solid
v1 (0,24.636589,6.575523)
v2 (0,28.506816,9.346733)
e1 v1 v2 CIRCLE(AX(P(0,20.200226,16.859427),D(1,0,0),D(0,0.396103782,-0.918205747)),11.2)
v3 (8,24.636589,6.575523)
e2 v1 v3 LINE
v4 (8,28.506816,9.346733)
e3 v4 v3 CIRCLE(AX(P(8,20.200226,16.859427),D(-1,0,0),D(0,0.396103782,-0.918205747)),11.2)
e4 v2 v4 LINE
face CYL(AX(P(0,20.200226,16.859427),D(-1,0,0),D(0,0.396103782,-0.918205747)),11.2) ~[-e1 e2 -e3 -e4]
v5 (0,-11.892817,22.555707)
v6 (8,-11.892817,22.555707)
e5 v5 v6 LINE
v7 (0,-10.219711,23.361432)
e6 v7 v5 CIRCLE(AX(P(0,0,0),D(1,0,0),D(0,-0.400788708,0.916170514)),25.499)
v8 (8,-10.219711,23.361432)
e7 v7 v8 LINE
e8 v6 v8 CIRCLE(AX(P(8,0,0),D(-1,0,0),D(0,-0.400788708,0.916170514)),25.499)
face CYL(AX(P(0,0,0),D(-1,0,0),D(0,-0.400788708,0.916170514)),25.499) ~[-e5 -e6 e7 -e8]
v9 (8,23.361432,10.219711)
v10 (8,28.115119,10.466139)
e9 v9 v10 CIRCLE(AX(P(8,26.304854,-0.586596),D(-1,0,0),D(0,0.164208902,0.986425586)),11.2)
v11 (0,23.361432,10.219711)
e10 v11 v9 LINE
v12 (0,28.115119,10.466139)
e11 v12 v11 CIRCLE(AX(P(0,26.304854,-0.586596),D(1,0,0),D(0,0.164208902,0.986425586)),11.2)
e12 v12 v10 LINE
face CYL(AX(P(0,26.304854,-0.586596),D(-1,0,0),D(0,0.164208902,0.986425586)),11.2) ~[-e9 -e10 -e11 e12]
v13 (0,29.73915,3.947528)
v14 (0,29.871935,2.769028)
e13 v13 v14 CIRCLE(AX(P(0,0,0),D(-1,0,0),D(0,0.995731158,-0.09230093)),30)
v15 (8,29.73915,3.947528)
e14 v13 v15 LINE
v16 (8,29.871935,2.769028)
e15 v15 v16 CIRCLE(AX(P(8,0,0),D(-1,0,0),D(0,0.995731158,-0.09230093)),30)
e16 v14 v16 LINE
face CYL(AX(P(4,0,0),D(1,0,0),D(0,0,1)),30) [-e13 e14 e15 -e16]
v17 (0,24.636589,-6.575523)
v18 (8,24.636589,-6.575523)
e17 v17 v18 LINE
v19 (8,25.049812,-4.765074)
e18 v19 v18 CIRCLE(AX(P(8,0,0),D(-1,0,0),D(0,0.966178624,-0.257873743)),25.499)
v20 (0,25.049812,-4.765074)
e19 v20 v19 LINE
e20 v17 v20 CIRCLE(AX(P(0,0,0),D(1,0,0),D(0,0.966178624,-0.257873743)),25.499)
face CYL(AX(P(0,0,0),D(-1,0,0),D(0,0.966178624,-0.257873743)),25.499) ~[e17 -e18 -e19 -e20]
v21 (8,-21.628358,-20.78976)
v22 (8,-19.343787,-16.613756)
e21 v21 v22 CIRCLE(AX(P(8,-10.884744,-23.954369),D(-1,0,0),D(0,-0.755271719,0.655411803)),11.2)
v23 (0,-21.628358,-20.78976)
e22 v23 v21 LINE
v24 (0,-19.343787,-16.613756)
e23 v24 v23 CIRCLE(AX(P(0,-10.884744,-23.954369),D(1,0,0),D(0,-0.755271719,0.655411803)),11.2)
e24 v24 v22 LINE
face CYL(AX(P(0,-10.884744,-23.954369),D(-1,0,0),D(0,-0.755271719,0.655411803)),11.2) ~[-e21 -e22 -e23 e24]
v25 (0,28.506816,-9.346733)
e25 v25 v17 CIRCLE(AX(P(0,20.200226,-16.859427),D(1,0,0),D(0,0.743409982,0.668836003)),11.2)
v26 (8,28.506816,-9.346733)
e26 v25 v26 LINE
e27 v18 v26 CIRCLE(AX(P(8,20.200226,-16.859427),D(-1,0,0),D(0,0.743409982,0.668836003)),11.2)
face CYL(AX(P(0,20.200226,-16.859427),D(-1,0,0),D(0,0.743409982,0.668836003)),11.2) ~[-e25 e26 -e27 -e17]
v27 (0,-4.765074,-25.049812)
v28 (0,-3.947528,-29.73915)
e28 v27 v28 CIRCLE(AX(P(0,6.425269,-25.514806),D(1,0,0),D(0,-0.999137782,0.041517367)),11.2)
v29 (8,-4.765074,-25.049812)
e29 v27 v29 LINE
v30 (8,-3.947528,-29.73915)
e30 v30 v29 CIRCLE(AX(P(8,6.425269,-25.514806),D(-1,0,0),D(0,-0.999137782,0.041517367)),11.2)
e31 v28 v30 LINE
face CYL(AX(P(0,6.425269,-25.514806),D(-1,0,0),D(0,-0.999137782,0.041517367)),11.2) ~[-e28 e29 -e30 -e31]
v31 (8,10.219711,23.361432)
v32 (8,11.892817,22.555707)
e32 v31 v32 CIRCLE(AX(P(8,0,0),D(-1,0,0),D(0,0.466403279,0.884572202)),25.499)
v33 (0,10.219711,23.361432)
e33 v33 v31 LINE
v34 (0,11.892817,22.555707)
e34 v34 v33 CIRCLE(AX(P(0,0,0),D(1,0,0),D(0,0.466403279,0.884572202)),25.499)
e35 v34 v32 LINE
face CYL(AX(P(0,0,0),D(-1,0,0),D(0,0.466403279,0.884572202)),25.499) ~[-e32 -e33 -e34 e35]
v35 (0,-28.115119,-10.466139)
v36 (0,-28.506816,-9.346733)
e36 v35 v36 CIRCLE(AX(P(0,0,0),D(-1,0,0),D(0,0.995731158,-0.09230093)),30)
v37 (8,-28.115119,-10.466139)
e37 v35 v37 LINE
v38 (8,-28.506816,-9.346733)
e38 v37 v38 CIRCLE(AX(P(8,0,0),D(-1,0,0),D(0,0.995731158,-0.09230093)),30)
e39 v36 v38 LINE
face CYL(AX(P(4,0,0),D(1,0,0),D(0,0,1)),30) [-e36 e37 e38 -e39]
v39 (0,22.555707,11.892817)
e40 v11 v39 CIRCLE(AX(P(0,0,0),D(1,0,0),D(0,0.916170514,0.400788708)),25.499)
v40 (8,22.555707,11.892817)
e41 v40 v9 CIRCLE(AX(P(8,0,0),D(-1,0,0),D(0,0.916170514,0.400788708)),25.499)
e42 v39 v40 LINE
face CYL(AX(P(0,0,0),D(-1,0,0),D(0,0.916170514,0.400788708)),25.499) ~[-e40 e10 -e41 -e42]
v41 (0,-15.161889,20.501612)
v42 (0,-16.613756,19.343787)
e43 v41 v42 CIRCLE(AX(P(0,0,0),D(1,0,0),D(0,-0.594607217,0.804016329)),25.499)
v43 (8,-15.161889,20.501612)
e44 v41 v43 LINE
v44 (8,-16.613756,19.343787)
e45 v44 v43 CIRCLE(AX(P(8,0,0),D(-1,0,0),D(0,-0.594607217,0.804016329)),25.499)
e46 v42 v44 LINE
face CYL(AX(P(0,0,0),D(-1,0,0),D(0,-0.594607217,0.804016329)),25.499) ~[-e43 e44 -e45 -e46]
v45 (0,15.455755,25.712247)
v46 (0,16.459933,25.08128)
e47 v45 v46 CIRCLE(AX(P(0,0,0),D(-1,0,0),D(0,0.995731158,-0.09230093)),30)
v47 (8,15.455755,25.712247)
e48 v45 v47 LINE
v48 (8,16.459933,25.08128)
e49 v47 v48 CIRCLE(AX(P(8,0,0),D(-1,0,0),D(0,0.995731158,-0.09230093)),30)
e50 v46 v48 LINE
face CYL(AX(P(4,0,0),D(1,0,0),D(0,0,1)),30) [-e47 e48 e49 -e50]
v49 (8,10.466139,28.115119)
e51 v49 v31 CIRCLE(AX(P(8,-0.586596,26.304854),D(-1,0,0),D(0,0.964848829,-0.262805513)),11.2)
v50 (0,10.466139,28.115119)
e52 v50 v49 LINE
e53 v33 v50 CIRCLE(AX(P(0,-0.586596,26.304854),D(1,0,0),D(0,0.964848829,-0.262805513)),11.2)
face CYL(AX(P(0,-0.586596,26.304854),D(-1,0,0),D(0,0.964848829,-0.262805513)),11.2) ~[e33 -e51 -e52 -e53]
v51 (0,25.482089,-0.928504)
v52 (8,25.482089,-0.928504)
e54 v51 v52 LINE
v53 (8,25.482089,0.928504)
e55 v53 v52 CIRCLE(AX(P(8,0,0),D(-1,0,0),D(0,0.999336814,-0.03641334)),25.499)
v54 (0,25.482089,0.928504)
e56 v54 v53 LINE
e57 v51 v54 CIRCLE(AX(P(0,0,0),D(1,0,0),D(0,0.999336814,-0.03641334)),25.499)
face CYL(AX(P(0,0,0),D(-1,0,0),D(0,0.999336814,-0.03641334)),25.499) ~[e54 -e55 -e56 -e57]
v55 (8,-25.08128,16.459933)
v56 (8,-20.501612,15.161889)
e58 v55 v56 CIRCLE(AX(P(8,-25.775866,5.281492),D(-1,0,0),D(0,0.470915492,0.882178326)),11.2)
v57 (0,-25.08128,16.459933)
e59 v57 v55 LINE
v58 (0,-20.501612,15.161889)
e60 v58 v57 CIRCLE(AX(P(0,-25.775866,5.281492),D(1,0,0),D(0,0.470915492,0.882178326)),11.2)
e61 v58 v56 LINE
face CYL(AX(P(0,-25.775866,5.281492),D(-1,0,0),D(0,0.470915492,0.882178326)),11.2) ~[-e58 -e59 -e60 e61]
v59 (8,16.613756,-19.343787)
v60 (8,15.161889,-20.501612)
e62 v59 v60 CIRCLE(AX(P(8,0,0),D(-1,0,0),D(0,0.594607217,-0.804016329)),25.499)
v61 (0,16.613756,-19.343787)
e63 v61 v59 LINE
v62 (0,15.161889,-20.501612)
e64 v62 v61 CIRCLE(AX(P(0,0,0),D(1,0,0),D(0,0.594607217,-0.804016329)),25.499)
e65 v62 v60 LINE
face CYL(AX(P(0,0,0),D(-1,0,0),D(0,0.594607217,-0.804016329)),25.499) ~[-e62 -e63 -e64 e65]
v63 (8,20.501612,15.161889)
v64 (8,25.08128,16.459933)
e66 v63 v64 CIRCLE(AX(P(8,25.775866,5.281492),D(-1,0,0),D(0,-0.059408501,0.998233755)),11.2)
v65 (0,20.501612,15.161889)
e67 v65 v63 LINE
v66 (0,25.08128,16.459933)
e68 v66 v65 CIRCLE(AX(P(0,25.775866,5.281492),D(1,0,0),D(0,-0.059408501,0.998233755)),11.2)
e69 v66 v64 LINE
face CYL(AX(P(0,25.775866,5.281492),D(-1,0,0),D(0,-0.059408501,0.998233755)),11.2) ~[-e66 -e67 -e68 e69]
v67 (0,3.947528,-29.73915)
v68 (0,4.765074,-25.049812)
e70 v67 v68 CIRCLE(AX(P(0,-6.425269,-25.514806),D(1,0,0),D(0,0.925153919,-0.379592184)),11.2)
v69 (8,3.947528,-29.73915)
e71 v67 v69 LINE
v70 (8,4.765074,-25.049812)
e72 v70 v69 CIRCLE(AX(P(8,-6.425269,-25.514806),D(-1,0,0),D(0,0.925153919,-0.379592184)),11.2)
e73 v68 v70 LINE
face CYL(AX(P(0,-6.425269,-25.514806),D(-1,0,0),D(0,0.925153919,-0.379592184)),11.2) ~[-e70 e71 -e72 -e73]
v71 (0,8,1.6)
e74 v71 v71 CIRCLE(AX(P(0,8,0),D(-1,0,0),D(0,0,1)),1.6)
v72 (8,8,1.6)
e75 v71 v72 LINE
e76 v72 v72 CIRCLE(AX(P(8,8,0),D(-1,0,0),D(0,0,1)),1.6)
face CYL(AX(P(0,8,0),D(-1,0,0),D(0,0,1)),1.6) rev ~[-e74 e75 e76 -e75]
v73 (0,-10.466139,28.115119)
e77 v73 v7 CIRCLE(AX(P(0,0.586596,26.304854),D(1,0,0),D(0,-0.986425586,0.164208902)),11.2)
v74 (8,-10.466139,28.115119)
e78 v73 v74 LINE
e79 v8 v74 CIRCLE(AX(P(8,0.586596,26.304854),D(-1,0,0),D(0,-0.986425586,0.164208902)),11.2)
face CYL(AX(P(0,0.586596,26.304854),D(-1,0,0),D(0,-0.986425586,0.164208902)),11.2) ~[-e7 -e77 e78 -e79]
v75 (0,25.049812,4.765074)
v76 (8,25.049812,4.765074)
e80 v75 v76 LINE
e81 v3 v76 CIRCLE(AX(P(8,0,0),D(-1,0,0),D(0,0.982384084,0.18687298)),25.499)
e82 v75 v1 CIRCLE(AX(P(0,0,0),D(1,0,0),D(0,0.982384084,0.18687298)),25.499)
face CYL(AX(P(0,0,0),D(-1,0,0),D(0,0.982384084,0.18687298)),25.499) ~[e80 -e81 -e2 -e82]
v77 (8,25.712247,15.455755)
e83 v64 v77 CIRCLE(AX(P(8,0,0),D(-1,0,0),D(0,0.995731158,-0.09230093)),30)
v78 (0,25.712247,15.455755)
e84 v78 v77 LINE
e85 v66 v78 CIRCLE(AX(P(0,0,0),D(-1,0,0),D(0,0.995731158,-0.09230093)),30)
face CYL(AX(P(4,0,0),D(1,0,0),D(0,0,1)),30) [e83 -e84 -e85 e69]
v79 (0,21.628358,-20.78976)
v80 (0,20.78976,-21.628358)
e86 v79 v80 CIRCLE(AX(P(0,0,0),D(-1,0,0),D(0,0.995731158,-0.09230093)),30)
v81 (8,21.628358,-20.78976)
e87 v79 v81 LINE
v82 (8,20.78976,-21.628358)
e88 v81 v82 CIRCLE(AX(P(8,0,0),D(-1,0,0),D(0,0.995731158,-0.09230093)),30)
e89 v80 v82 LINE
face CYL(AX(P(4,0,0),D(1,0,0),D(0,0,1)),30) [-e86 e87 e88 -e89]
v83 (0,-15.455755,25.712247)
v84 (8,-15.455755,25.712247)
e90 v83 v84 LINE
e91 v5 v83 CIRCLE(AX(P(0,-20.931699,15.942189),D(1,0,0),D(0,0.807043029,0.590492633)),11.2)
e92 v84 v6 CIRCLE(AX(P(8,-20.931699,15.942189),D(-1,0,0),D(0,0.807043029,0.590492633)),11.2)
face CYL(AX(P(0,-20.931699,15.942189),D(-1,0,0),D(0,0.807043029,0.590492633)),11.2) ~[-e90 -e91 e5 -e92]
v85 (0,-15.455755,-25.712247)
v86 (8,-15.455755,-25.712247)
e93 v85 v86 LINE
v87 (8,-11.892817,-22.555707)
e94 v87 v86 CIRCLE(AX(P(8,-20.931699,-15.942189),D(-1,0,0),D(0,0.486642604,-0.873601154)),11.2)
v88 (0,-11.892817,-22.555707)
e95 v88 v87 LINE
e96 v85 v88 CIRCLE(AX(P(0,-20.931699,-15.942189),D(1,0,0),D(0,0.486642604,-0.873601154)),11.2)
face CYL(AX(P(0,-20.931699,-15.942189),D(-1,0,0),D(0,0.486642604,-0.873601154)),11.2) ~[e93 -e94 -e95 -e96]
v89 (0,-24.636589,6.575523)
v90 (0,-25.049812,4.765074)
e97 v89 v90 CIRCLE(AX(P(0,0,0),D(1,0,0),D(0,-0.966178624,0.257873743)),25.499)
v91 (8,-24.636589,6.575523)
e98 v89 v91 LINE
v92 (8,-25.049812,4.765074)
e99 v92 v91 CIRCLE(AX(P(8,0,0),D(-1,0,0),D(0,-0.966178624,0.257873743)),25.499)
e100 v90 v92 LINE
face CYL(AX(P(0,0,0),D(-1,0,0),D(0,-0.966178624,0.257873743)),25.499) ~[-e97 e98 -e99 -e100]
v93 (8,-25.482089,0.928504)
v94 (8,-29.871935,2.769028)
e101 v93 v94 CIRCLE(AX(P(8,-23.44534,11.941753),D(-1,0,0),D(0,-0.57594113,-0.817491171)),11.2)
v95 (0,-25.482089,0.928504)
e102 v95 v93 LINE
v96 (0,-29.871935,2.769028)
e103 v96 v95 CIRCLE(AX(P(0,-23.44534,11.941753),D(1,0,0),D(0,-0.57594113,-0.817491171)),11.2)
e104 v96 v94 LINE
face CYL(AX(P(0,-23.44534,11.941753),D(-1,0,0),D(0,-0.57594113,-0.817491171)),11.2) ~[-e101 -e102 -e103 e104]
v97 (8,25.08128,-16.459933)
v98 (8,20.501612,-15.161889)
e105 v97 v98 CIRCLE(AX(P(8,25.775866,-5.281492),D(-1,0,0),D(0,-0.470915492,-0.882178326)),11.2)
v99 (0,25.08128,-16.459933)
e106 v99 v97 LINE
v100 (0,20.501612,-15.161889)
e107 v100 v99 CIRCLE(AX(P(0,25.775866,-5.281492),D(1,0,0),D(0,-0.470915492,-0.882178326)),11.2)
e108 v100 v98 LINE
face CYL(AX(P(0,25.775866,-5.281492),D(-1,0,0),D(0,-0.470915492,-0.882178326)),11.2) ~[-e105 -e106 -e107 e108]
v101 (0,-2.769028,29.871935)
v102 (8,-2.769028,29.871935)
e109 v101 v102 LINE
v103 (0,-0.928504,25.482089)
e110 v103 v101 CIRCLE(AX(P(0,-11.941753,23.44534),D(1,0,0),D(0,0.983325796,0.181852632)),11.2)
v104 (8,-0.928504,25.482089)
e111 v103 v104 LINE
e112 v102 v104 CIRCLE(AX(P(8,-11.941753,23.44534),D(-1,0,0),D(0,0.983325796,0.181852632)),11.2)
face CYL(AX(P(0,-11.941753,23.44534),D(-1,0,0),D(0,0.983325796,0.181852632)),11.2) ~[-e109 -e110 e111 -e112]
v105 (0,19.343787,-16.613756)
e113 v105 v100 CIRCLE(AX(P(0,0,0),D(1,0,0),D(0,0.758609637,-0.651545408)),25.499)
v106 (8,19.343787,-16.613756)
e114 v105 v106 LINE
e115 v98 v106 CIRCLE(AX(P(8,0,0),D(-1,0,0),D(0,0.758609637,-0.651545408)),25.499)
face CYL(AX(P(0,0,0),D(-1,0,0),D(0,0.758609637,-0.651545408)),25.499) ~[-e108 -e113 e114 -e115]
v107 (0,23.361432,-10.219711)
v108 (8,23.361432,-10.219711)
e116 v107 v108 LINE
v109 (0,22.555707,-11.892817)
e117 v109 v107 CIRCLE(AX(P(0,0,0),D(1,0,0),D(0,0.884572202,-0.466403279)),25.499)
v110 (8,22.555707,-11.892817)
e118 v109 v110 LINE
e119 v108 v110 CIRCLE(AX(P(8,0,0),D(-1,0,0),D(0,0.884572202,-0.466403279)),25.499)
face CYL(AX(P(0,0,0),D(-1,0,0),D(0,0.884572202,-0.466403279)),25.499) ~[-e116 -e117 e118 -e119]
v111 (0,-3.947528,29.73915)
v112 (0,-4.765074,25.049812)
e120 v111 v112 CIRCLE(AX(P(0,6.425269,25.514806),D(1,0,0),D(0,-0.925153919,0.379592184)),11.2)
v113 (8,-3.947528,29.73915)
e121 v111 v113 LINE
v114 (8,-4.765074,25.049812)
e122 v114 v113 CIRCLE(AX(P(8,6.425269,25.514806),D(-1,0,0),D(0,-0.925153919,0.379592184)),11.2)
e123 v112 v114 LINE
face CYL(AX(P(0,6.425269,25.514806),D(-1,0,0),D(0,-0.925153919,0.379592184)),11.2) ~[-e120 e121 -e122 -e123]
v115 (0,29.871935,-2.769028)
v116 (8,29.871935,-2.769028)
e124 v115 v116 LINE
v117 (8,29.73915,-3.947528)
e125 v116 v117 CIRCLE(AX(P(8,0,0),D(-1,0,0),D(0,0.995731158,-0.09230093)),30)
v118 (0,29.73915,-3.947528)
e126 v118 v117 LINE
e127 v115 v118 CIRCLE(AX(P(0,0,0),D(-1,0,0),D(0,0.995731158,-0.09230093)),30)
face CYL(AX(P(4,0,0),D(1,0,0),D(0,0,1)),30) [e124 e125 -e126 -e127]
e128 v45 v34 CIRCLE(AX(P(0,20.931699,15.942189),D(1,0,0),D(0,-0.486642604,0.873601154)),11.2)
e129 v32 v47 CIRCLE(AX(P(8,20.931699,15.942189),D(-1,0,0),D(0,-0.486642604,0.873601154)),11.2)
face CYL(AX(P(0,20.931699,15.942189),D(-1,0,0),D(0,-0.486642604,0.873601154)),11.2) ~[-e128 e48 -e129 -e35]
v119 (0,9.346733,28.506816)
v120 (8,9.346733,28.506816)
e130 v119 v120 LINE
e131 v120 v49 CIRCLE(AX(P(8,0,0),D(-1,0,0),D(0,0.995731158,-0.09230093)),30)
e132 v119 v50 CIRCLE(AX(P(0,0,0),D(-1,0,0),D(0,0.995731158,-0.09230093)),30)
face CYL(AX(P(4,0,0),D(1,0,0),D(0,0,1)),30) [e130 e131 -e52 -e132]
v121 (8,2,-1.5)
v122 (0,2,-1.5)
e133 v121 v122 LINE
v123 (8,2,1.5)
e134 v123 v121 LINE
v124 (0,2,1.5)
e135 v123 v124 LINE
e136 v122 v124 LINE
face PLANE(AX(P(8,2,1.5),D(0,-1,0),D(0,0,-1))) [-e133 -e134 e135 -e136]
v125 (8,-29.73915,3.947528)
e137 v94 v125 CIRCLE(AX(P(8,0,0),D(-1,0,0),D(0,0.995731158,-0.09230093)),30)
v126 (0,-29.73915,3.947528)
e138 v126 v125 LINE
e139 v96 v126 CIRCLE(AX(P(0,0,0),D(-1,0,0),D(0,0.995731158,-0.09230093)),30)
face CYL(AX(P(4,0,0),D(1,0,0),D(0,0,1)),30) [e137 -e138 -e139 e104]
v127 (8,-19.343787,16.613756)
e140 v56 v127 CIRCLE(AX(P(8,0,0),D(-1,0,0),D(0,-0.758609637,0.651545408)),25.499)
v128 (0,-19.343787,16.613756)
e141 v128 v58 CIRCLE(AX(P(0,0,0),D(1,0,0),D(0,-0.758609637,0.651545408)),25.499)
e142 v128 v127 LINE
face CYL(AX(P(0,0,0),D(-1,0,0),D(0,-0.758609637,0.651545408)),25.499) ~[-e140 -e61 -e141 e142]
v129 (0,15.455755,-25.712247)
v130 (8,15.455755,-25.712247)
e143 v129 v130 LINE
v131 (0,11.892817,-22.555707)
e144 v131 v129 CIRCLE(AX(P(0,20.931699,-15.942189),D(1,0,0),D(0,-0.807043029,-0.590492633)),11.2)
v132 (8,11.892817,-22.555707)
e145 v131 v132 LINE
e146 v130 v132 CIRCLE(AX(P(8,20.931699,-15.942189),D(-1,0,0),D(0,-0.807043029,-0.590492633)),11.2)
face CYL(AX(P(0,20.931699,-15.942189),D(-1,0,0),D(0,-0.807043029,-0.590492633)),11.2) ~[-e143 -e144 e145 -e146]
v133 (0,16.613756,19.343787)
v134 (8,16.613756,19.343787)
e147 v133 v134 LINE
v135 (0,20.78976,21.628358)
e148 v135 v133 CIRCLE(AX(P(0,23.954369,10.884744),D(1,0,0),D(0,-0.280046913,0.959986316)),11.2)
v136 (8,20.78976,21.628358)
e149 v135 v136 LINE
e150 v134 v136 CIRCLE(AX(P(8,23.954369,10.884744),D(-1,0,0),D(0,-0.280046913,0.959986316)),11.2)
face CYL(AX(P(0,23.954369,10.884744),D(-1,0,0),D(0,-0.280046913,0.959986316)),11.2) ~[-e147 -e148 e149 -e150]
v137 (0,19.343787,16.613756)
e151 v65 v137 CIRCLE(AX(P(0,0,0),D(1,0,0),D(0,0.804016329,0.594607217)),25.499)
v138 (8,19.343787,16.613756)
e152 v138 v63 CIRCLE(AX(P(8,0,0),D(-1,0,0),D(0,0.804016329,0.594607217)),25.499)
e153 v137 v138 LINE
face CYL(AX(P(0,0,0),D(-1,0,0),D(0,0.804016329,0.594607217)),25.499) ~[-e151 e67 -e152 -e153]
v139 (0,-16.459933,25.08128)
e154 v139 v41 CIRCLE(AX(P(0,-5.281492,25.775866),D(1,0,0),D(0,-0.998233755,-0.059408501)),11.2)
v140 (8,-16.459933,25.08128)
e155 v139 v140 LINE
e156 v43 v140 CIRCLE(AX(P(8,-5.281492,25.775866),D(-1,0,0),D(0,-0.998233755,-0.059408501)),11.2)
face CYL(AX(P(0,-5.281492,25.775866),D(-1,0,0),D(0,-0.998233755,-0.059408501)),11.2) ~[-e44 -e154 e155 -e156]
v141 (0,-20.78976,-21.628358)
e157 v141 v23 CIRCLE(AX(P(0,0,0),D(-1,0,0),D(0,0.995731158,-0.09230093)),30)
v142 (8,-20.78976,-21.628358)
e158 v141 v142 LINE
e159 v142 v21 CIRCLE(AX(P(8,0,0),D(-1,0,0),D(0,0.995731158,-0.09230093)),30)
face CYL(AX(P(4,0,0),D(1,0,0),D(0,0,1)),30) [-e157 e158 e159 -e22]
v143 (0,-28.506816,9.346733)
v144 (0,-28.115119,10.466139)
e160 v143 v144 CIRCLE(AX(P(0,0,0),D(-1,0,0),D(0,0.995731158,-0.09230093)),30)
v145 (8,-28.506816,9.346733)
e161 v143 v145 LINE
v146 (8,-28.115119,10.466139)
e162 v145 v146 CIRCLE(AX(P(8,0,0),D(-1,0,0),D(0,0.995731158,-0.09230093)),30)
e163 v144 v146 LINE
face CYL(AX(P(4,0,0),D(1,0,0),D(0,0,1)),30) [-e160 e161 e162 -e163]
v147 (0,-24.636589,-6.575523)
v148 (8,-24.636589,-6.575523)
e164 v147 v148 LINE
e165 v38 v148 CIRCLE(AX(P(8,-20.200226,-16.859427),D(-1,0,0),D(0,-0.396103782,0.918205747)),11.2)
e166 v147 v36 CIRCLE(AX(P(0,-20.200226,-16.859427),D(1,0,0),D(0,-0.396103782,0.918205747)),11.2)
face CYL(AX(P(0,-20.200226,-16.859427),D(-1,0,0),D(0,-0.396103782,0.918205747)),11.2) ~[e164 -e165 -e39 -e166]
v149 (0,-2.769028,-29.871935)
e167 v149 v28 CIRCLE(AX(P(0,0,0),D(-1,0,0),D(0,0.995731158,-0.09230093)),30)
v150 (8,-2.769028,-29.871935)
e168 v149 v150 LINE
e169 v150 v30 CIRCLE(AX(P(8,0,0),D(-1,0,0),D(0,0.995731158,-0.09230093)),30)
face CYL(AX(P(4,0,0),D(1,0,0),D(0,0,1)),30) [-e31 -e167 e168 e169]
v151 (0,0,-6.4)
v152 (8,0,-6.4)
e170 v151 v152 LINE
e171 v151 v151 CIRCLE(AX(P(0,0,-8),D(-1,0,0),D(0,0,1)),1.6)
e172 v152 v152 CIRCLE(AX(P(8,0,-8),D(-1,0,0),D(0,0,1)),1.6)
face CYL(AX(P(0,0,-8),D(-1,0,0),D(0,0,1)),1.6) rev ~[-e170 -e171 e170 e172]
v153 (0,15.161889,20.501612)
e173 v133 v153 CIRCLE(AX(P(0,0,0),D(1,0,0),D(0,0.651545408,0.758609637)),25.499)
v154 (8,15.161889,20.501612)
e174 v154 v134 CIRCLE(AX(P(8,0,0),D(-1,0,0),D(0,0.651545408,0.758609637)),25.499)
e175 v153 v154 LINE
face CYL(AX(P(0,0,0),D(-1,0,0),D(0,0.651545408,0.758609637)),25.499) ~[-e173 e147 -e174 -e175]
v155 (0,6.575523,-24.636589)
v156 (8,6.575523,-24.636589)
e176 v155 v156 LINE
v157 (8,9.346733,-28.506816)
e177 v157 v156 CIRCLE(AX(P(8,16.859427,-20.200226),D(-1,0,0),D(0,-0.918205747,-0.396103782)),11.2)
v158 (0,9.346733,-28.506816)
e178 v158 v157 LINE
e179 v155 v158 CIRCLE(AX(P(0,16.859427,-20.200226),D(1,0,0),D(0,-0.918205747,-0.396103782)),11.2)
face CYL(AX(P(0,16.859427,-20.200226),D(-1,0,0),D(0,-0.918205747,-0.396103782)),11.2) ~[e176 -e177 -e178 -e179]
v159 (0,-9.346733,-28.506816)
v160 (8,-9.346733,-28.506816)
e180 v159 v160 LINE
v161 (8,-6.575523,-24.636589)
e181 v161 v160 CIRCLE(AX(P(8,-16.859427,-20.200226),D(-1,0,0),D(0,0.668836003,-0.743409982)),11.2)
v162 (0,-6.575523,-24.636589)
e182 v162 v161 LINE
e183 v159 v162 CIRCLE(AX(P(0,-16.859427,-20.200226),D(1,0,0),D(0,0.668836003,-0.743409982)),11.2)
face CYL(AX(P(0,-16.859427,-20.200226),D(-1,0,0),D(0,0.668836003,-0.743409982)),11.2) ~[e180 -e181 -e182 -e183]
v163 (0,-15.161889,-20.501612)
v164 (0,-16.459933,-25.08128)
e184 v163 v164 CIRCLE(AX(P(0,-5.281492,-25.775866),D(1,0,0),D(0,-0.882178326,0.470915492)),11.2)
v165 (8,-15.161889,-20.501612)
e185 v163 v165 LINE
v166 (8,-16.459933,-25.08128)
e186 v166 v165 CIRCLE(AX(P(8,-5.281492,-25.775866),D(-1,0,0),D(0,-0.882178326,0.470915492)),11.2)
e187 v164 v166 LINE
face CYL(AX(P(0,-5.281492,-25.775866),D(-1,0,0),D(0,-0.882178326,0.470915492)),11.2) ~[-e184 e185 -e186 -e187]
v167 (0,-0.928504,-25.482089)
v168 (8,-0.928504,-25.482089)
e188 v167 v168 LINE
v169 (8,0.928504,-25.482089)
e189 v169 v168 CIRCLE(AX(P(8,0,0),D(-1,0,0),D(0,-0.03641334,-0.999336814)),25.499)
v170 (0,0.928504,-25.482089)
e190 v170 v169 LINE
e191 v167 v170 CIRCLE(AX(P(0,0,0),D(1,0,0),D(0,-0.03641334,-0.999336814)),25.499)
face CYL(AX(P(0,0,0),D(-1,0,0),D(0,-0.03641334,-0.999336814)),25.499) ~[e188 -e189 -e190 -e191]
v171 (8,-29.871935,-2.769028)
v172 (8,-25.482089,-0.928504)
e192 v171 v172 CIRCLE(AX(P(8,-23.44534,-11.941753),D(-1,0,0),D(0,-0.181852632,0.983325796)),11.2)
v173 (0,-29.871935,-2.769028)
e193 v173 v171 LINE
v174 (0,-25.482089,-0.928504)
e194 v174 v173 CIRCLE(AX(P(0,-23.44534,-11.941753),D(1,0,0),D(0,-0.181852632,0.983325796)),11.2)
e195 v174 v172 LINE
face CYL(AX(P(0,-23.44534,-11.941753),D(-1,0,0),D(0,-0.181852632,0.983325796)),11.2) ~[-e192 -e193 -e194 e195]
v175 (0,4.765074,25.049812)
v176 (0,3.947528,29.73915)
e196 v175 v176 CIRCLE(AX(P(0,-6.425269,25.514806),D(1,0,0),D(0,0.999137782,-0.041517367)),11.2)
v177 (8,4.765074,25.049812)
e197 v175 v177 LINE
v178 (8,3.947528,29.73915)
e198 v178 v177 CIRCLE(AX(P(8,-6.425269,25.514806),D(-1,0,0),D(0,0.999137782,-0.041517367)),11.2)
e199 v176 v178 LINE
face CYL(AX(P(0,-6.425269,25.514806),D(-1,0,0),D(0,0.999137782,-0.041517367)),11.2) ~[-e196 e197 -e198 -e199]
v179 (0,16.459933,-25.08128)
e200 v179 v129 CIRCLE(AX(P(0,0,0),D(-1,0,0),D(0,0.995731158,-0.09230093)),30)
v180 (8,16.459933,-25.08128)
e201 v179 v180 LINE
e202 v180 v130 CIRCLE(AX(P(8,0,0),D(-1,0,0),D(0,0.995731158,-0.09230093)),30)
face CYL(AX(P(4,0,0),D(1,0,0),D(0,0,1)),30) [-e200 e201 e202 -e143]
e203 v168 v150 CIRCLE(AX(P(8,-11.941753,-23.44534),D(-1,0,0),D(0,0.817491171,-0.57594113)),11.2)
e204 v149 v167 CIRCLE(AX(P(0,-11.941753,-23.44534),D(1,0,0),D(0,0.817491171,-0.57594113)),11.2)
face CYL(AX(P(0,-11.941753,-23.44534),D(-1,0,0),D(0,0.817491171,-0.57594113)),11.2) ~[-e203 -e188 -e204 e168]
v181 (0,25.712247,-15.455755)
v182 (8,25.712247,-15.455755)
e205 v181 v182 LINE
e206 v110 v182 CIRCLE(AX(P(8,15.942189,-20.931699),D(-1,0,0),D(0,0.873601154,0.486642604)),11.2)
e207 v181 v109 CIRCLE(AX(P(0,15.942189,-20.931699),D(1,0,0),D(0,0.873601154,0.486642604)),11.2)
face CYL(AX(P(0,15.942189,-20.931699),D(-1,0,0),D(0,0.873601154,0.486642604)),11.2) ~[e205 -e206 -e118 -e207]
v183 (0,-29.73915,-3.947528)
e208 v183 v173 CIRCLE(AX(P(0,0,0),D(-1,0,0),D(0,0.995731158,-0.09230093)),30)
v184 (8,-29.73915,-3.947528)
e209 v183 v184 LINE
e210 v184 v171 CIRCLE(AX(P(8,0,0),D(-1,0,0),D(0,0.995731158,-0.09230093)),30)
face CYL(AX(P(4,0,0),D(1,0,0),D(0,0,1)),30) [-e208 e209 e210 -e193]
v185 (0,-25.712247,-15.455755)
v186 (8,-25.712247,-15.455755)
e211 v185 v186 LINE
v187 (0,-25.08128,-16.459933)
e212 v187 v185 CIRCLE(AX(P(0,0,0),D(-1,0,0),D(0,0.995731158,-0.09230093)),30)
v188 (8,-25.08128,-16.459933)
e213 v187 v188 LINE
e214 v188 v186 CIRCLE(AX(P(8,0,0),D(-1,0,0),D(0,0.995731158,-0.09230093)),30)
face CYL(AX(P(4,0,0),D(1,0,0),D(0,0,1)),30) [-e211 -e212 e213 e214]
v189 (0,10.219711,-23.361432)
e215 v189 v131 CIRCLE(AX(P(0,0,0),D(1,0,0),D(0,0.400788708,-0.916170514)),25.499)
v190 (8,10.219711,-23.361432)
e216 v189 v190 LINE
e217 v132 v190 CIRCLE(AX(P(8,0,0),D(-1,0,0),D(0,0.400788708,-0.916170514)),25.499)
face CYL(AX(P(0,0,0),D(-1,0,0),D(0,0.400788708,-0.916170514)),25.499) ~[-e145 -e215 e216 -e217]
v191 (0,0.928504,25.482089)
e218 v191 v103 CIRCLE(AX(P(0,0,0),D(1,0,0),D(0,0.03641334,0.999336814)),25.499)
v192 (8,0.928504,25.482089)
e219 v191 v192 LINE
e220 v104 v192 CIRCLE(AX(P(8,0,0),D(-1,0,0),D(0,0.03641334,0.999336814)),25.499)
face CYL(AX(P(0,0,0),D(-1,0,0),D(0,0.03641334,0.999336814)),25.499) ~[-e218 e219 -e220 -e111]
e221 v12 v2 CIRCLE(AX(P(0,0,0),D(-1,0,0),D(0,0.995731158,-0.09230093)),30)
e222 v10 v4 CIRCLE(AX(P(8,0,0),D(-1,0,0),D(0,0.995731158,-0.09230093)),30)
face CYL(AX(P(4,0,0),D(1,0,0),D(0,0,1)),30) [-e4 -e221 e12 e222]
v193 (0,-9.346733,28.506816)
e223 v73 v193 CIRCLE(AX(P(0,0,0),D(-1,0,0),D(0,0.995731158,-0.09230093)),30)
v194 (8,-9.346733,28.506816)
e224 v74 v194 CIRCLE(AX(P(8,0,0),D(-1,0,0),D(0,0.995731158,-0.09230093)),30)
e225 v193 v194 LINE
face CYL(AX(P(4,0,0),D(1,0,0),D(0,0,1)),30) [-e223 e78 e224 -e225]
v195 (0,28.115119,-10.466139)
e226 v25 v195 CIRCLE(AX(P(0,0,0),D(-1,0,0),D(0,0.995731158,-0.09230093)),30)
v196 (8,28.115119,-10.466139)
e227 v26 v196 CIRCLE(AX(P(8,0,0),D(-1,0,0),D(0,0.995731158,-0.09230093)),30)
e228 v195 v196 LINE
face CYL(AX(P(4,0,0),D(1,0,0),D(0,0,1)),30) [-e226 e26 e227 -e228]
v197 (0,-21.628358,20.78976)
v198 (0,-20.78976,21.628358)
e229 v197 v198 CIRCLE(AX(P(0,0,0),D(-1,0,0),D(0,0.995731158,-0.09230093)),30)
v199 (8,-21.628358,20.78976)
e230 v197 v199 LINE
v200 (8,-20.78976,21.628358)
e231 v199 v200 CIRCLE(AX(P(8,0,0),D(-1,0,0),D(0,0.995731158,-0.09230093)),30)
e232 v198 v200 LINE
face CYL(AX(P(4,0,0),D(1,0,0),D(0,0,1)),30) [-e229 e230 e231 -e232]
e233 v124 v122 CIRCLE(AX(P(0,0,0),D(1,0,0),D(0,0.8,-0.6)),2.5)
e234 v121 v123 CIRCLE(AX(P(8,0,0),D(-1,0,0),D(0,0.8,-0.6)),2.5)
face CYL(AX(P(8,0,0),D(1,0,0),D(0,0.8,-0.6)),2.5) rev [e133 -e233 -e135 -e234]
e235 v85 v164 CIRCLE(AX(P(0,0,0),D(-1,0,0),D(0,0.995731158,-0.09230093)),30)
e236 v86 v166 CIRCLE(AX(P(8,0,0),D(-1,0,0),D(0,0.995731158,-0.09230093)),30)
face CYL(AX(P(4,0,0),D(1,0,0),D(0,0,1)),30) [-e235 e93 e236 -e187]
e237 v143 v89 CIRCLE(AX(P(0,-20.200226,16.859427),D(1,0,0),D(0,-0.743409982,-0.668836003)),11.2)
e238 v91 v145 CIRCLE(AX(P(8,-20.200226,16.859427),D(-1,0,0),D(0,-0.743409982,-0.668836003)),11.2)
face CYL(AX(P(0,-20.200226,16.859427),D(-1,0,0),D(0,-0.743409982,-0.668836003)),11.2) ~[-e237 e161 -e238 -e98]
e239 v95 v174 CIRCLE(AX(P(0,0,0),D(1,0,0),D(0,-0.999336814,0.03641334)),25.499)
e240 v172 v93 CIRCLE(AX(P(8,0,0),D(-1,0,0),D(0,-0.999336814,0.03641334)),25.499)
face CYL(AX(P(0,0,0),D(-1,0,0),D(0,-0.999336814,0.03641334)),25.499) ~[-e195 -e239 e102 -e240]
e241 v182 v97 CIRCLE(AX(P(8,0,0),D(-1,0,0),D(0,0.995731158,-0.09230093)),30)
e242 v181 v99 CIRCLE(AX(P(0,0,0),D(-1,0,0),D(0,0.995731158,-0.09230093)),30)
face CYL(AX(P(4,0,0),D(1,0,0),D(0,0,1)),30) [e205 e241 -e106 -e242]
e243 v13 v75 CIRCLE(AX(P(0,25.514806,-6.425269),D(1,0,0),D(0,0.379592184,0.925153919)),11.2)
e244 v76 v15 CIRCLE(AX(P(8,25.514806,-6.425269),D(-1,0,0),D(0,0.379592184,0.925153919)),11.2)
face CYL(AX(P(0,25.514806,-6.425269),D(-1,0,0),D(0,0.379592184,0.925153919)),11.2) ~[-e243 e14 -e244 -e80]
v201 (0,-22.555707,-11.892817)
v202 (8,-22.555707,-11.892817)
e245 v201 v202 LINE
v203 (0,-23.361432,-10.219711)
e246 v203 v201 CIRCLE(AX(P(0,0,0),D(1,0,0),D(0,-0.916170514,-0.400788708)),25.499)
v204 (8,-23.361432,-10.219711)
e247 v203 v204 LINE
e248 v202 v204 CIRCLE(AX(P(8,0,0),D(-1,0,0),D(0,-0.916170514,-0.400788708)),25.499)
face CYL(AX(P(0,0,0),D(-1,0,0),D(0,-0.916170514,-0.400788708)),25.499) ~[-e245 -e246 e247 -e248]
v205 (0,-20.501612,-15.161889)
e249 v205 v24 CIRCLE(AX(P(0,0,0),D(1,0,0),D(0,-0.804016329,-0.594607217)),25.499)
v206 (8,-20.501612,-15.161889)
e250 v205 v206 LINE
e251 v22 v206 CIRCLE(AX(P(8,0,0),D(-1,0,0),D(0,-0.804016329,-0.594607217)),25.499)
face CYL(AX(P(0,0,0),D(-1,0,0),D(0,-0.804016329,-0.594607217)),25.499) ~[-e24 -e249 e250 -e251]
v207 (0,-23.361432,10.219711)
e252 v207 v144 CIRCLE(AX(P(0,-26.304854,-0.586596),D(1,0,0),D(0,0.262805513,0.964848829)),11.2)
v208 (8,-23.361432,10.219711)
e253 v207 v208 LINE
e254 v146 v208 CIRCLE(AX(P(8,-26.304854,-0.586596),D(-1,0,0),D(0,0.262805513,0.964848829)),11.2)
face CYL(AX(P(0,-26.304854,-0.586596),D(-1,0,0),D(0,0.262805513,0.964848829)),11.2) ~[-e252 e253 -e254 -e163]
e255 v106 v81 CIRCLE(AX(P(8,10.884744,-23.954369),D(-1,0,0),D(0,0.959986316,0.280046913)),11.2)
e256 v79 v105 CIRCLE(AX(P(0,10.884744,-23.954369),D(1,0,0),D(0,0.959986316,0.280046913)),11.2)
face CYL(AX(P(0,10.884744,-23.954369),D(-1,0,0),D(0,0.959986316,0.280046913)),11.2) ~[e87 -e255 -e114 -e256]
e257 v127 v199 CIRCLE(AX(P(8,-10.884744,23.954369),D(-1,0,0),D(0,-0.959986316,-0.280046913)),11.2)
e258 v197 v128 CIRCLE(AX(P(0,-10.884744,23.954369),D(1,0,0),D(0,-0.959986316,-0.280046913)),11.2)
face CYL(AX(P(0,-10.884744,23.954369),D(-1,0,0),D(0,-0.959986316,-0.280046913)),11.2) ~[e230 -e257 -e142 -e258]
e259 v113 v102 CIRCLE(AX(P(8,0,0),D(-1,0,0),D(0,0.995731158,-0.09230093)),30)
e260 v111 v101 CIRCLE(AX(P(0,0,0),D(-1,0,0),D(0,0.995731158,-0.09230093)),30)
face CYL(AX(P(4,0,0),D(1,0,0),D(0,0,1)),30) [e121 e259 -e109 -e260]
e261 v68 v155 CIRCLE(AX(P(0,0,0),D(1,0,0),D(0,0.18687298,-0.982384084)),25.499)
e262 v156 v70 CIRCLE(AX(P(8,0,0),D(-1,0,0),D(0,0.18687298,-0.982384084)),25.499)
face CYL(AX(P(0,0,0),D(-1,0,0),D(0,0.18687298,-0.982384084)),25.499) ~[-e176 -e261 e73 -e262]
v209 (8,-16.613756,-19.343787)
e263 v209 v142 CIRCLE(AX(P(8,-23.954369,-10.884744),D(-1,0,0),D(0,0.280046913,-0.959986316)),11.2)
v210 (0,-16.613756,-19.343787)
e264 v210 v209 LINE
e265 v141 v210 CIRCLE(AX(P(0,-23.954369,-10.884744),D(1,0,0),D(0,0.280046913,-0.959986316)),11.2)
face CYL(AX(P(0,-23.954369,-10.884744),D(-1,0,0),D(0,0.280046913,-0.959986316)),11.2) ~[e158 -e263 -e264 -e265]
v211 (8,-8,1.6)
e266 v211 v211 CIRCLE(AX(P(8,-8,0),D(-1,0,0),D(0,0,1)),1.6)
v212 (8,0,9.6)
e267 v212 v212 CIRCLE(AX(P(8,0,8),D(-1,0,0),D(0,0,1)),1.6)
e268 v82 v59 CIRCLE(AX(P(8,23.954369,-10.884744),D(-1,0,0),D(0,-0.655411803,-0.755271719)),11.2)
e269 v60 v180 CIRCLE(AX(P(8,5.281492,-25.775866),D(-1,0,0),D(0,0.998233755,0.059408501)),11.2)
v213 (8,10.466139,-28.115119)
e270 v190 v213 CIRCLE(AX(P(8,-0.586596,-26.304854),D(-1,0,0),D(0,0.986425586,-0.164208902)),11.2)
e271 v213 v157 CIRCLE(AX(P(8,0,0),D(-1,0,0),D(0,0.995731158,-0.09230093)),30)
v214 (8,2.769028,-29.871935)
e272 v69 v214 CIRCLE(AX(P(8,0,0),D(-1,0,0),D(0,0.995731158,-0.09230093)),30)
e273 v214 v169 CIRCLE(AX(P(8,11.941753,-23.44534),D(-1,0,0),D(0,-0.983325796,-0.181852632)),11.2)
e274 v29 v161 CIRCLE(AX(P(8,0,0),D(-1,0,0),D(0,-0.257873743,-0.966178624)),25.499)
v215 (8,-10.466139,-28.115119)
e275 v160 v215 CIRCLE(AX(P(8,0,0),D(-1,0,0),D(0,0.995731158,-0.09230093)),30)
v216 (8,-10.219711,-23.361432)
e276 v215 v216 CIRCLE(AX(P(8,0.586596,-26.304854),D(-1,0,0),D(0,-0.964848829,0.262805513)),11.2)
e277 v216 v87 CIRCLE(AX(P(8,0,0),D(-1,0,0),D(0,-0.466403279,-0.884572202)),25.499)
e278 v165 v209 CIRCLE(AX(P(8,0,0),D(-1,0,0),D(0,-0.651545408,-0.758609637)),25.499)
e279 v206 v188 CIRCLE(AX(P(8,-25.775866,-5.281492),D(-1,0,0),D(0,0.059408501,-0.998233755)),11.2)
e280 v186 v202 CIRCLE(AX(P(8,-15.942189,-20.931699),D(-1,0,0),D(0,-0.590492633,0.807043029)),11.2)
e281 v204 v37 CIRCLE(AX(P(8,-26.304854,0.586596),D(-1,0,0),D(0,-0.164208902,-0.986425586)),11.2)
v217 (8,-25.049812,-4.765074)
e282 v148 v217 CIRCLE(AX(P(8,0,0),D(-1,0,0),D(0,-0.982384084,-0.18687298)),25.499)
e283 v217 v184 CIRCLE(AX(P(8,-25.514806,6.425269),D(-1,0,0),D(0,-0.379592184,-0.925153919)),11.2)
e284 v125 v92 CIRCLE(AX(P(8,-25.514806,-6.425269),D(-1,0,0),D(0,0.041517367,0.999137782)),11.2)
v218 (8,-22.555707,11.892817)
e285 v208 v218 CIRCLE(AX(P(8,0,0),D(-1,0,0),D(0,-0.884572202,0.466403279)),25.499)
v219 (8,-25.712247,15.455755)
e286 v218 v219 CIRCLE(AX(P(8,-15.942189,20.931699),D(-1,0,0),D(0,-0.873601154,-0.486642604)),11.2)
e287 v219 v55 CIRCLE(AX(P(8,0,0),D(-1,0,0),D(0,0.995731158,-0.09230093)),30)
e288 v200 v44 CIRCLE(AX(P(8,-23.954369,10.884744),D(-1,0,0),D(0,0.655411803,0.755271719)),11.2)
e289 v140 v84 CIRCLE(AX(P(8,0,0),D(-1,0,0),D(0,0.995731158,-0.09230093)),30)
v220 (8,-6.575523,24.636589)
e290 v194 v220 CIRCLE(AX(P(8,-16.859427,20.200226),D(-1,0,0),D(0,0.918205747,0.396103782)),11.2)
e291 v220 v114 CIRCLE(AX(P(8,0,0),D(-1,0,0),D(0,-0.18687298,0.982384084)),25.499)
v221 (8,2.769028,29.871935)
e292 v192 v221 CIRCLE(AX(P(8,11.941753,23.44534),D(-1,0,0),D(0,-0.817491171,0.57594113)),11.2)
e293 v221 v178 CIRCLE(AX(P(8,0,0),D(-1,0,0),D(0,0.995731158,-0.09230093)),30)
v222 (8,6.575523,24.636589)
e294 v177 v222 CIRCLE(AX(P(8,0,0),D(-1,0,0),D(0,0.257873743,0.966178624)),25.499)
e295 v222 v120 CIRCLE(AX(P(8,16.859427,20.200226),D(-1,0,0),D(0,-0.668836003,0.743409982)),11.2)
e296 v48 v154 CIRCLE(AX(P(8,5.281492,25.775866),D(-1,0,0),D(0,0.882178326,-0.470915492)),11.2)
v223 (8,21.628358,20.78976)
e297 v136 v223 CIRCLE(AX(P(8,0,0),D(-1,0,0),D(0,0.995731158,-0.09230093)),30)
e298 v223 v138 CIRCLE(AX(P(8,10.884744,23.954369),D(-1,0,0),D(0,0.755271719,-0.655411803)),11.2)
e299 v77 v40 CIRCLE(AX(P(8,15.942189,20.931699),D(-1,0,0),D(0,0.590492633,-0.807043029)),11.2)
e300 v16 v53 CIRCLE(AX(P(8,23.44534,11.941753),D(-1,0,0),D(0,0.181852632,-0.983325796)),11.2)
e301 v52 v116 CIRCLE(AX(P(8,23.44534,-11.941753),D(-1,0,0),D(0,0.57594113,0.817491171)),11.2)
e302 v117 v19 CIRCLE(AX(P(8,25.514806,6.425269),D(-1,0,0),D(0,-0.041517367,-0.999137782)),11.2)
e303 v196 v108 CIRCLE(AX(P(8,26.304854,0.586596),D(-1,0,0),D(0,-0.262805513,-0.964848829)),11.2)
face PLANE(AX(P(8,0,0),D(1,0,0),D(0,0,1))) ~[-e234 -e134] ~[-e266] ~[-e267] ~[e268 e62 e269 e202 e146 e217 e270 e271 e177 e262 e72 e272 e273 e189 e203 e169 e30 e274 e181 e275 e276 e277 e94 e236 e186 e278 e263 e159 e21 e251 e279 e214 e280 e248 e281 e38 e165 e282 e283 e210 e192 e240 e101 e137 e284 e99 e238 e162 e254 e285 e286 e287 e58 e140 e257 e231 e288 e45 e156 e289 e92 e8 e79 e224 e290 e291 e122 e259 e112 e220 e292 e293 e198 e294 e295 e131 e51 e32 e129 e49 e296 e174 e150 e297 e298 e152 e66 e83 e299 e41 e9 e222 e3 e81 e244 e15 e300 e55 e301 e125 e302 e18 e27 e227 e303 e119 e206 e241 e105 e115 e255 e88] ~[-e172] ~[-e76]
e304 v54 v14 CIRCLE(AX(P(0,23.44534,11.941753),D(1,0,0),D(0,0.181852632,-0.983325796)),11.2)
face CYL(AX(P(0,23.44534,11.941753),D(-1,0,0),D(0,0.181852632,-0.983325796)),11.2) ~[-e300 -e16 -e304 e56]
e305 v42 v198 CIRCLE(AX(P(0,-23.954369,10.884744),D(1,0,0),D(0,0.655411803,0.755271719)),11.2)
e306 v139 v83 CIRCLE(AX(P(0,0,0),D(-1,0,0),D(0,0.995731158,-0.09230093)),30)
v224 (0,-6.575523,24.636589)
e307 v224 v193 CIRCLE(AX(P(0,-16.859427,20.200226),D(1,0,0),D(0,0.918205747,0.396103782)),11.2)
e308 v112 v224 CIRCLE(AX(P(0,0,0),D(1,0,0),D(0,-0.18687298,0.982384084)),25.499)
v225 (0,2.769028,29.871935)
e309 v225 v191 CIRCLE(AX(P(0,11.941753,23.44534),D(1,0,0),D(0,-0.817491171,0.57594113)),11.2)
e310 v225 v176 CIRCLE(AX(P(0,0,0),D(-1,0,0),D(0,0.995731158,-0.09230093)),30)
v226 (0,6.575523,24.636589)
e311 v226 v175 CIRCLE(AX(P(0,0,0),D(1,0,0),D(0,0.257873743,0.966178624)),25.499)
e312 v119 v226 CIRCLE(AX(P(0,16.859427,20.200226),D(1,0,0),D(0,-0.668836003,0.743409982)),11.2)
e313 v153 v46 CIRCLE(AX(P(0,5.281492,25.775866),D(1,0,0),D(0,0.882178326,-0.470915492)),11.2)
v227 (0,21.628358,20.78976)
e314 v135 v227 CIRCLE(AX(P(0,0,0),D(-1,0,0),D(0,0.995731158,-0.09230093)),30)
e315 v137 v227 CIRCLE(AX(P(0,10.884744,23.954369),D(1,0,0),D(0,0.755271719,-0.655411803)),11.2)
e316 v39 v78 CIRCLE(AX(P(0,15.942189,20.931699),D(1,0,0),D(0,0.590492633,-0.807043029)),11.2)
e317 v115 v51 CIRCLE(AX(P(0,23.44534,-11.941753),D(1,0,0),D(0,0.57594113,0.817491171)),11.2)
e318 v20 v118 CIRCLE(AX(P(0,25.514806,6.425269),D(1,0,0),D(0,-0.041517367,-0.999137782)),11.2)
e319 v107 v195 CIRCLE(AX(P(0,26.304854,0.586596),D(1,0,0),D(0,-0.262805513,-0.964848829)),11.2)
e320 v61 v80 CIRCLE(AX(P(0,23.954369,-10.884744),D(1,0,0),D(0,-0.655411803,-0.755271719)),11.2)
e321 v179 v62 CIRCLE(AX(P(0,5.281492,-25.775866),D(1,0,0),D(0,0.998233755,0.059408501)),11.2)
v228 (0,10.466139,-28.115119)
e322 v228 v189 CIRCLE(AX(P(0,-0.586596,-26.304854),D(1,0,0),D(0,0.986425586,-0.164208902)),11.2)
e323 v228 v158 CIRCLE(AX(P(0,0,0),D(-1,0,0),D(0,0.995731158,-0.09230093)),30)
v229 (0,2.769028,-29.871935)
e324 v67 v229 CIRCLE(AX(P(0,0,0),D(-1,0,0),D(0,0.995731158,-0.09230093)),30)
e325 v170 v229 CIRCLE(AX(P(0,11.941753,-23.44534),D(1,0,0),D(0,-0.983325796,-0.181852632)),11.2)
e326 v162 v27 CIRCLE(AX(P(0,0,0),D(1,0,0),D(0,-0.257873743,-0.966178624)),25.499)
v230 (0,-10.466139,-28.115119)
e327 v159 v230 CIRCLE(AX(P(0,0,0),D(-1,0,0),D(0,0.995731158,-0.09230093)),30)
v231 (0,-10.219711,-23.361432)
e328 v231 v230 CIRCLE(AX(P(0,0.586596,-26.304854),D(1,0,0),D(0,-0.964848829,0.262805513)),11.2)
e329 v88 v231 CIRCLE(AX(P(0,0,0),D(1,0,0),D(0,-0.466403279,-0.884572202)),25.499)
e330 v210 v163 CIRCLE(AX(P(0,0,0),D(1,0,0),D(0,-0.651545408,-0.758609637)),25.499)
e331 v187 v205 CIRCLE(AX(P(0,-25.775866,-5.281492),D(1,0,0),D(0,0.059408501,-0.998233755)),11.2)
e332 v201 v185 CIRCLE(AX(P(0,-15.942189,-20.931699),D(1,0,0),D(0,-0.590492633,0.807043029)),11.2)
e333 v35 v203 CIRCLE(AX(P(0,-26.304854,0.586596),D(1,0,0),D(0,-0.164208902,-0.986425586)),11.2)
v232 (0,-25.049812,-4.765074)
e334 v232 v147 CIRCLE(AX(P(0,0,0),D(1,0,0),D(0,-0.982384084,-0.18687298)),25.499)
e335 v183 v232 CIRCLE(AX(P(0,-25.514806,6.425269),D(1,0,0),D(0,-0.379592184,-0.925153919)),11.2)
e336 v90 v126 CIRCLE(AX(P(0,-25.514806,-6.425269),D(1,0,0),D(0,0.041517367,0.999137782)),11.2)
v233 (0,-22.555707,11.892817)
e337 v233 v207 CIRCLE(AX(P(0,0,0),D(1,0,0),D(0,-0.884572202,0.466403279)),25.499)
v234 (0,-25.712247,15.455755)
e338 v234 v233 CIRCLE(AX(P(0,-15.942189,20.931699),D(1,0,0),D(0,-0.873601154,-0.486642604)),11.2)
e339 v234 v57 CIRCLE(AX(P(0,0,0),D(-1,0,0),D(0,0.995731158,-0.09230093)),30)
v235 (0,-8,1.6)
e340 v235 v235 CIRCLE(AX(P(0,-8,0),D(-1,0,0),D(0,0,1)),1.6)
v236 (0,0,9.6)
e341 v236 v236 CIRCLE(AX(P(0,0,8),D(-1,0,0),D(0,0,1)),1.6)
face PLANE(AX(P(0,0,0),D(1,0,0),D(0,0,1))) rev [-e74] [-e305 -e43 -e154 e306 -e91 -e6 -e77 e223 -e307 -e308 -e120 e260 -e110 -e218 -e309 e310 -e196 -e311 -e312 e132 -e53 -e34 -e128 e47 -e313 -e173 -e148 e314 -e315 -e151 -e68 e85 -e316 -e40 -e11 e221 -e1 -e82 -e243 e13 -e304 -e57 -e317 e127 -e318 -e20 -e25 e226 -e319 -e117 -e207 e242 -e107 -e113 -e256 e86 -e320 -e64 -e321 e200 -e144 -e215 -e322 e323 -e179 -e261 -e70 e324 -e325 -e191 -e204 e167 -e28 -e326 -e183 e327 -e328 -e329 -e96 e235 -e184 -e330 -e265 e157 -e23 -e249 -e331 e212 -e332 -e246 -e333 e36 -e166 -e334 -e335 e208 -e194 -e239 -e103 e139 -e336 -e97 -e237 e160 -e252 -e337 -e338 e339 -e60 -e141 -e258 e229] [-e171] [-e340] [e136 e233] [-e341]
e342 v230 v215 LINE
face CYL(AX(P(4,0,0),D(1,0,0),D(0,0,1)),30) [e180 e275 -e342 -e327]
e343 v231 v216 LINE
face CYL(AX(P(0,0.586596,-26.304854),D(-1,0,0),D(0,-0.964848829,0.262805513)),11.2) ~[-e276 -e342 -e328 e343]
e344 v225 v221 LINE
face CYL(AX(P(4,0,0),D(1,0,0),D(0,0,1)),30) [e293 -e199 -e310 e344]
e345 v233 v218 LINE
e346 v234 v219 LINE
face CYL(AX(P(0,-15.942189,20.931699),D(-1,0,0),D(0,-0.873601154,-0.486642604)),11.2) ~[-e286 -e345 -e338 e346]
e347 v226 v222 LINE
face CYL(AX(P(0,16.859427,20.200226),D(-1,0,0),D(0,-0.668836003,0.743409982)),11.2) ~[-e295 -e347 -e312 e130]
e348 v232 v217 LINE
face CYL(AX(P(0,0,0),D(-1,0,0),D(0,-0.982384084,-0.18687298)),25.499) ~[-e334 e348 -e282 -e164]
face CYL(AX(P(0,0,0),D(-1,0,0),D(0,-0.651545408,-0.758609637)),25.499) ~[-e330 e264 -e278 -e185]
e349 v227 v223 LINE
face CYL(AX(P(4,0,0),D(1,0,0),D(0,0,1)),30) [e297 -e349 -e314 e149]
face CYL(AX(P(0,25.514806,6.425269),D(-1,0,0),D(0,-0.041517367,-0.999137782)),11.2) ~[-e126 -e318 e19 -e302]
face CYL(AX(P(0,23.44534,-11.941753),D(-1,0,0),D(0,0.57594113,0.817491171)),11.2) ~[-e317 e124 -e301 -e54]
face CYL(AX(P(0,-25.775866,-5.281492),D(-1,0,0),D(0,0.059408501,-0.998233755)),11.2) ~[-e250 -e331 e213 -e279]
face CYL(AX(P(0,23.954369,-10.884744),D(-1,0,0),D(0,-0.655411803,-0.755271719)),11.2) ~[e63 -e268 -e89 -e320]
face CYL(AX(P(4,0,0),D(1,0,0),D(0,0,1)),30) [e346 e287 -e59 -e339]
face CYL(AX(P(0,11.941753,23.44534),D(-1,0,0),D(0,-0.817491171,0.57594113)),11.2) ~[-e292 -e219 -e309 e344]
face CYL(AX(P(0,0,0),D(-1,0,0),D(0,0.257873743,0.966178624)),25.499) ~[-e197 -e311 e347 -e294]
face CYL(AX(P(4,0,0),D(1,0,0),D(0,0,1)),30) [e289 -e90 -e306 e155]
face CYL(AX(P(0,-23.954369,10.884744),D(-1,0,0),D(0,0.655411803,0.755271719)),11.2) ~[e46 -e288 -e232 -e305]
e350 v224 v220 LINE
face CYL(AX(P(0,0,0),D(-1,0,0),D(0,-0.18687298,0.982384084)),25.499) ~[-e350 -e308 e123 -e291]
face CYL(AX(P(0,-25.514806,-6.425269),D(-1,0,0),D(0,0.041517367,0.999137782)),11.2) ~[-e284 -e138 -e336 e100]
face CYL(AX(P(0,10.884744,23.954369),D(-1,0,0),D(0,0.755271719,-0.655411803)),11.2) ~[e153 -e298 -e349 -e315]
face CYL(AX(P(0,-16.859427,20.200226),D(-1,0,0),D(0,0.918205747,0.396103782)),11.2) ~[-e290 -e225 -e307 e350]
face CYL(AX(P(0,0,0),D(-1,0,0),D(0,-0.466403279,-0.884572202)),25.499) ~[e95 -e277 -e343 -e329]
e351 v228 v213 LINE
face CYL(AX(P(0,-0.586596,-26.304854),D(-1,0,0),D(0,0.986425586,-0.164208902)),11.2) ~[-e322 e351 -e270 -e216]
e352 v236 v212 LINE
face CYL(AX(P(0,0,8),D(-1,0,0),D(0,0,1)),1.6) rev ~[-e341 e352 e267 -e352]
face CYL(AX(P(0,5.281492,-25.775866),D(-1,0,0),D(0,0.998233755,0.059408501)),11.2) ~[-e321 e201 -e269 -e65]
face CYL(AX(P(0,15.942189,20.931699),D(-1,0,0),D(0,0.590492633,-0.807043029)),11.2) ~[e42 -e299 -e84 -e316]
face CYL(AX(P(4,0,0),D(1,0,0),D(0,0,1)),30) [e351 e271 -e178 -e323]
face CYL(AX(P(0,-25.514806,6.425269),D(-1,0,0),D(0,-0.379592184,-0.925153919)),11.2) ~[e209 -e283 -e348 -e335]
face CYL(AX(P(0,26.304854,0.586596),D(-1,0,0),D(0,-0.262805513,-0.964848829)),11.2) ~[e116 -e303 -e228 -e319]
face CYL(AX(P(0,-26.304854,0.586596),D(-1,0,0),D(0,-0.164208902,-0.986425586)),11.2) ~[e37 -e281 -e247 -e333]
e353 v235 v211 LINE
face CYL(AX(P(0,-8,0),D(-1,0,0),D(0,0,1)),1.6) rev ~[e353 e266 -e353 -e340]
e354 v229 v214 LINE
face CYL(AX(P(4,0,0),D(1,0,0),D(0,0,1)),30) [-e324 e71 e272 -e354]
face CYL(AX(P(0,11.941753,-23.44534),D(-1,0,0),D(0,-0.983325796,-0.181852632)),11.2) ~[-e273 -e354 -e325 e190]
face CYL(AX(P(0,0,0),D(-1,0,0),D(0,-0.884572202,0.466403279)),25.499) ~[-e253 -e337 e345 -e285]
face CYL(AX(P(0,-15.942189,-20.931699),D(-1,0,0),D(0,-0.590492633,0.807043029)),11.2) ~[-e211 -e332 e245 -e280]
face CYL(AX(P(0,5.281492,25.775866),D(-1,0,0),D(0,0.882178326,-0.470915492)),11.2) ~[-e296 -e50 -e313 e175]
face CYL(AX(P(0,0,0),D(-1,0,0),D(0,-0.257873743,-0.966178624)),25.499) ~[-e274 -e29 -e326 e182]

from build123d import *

# Parameters (mm, degrees)
BASPROSKE_W              = 8
BASPROSKE_H              = 30
TOOTHCUT_DEPTH           = 44.17406629
TEETHCUTS_COUNT          = 28
TEETHCUTS_ANGLE          = 347.142857143
BORSKE_R                 = 0.1
BORE_DEPTH               = 50.0000508
TAGLIO_ESTRUSIONE1_DEPTH = 30
SCHIZZO2_R               = 1.6
TAGLIO_ESTRUSIONE2_DEPTH = 10


with BuildPart() as part:
    # BasProSke → Base-Revolve (revolve)
    with BuildSketch(Plane(origin=(0, 0, 0), x_dir=(1, 0, 0), z_dir=(0, 1, 0)), mode=Mode.PRIVATE) as base_revolve_sk:
        with Locations((4, 15)):
            Rectangle(BASPROSKE_W, BASPROSKE_H)
    revolve(base_revolve_sk.sketch.rotate(Axis((-10, 0, 0), (1, 0, 0)), 180), axis=Axis((-10, 0, 0), (1, 0, 0)))

    # TooCutSke → ToothCut (cut, through all)
    with BuildSketch(Plane(origin=(0, 0, 0), x_dir=(0, 0, -1), z_dir=(1, 0, 0))):
        with BuildLine():
            ThreePointArc((0.928503763, 25.482089431), (0, 25.499), (-0.928503763, 25.482089431))
            ThreePointArc((-0.928503763, 25.482089431), (-1.618524429, 27.789411612), (-2.78585155, 29.895880591))
            ThreePointArc((-2.78585155, 29.895880591), (0, 30.0254), (2.78585155, 29.895880591))
            ThreePointArc((2.78585155, 29.895880591), (1.618524429, 27.789411612), (0.928503763, 25.482089431))
        make_face()
    toothcut = extrude(amount=TOOTHCUT_DEPTH, mode=Mode.SUBTRACT)

    # TeethCuts: ToothCut ×28 about axis
    teethcuts_axis = Axis((-10, 0, 0), (1, 0, 0))
    for i in range(1, TEETHCUTS_COUNT):
        add(toothcut.rotate(teethcuts_axis, i * TEETHCUTS_ANGLE / (TEETHCUTS_COUNT - 1)), mode=Mode.SUBTRACT)

    # BorSke → Bore (cut, symmetric)
    with BuildSketch(Plane(origin=(0, 0, 0), x_dir=(0, 0, -1), z_dir=(1, 0, 0))):
        with Locations(Location((0, 0, 0), (0, 0, 180))):
            Circle(BORSKE_R)
    extrude(amount=BORE_DEPTH, both=True, mode=Mode.SUBTRACT)

    # Schizzo1 → Taglio-Estrusione1 (cut)
    with BuildSketch(Plane(origin=(8, 0, 0), x_dir=(0, 0, -1), z_dir=(1, 0, 0))):
        with BuildLine():
            Line((-1.5, 2), (1.5, 2))
            ThreePointArc((1.5, 2), (0, -2.5), (-1.5, 2))
        make_face()
    extrude(amount=-TAGLIO_ESTRUSIONE1_DEPTH, mode=Mode.SUBTRACT)

    # Schizzo2 → Taglio-Estrusione2 (cut)
    with BuildSketch(Plane.ZY):
        with Locations((0, 8)):
            Circle(SCHIZZO2_R)
        with Locations((8, 0)):
            Circle(SCHIZZO2_R)
        with Locations((0, -8)):
            Circle(SCHIZZO2_R)
        with Locations((-8, 0)):
            Circle(SCHIZZO2_R)
    extrude(amount=-TAGLIO_ESTRUSIONE2_DEPTH, mode=Mode.SUBTRACT)


solid = part.part
